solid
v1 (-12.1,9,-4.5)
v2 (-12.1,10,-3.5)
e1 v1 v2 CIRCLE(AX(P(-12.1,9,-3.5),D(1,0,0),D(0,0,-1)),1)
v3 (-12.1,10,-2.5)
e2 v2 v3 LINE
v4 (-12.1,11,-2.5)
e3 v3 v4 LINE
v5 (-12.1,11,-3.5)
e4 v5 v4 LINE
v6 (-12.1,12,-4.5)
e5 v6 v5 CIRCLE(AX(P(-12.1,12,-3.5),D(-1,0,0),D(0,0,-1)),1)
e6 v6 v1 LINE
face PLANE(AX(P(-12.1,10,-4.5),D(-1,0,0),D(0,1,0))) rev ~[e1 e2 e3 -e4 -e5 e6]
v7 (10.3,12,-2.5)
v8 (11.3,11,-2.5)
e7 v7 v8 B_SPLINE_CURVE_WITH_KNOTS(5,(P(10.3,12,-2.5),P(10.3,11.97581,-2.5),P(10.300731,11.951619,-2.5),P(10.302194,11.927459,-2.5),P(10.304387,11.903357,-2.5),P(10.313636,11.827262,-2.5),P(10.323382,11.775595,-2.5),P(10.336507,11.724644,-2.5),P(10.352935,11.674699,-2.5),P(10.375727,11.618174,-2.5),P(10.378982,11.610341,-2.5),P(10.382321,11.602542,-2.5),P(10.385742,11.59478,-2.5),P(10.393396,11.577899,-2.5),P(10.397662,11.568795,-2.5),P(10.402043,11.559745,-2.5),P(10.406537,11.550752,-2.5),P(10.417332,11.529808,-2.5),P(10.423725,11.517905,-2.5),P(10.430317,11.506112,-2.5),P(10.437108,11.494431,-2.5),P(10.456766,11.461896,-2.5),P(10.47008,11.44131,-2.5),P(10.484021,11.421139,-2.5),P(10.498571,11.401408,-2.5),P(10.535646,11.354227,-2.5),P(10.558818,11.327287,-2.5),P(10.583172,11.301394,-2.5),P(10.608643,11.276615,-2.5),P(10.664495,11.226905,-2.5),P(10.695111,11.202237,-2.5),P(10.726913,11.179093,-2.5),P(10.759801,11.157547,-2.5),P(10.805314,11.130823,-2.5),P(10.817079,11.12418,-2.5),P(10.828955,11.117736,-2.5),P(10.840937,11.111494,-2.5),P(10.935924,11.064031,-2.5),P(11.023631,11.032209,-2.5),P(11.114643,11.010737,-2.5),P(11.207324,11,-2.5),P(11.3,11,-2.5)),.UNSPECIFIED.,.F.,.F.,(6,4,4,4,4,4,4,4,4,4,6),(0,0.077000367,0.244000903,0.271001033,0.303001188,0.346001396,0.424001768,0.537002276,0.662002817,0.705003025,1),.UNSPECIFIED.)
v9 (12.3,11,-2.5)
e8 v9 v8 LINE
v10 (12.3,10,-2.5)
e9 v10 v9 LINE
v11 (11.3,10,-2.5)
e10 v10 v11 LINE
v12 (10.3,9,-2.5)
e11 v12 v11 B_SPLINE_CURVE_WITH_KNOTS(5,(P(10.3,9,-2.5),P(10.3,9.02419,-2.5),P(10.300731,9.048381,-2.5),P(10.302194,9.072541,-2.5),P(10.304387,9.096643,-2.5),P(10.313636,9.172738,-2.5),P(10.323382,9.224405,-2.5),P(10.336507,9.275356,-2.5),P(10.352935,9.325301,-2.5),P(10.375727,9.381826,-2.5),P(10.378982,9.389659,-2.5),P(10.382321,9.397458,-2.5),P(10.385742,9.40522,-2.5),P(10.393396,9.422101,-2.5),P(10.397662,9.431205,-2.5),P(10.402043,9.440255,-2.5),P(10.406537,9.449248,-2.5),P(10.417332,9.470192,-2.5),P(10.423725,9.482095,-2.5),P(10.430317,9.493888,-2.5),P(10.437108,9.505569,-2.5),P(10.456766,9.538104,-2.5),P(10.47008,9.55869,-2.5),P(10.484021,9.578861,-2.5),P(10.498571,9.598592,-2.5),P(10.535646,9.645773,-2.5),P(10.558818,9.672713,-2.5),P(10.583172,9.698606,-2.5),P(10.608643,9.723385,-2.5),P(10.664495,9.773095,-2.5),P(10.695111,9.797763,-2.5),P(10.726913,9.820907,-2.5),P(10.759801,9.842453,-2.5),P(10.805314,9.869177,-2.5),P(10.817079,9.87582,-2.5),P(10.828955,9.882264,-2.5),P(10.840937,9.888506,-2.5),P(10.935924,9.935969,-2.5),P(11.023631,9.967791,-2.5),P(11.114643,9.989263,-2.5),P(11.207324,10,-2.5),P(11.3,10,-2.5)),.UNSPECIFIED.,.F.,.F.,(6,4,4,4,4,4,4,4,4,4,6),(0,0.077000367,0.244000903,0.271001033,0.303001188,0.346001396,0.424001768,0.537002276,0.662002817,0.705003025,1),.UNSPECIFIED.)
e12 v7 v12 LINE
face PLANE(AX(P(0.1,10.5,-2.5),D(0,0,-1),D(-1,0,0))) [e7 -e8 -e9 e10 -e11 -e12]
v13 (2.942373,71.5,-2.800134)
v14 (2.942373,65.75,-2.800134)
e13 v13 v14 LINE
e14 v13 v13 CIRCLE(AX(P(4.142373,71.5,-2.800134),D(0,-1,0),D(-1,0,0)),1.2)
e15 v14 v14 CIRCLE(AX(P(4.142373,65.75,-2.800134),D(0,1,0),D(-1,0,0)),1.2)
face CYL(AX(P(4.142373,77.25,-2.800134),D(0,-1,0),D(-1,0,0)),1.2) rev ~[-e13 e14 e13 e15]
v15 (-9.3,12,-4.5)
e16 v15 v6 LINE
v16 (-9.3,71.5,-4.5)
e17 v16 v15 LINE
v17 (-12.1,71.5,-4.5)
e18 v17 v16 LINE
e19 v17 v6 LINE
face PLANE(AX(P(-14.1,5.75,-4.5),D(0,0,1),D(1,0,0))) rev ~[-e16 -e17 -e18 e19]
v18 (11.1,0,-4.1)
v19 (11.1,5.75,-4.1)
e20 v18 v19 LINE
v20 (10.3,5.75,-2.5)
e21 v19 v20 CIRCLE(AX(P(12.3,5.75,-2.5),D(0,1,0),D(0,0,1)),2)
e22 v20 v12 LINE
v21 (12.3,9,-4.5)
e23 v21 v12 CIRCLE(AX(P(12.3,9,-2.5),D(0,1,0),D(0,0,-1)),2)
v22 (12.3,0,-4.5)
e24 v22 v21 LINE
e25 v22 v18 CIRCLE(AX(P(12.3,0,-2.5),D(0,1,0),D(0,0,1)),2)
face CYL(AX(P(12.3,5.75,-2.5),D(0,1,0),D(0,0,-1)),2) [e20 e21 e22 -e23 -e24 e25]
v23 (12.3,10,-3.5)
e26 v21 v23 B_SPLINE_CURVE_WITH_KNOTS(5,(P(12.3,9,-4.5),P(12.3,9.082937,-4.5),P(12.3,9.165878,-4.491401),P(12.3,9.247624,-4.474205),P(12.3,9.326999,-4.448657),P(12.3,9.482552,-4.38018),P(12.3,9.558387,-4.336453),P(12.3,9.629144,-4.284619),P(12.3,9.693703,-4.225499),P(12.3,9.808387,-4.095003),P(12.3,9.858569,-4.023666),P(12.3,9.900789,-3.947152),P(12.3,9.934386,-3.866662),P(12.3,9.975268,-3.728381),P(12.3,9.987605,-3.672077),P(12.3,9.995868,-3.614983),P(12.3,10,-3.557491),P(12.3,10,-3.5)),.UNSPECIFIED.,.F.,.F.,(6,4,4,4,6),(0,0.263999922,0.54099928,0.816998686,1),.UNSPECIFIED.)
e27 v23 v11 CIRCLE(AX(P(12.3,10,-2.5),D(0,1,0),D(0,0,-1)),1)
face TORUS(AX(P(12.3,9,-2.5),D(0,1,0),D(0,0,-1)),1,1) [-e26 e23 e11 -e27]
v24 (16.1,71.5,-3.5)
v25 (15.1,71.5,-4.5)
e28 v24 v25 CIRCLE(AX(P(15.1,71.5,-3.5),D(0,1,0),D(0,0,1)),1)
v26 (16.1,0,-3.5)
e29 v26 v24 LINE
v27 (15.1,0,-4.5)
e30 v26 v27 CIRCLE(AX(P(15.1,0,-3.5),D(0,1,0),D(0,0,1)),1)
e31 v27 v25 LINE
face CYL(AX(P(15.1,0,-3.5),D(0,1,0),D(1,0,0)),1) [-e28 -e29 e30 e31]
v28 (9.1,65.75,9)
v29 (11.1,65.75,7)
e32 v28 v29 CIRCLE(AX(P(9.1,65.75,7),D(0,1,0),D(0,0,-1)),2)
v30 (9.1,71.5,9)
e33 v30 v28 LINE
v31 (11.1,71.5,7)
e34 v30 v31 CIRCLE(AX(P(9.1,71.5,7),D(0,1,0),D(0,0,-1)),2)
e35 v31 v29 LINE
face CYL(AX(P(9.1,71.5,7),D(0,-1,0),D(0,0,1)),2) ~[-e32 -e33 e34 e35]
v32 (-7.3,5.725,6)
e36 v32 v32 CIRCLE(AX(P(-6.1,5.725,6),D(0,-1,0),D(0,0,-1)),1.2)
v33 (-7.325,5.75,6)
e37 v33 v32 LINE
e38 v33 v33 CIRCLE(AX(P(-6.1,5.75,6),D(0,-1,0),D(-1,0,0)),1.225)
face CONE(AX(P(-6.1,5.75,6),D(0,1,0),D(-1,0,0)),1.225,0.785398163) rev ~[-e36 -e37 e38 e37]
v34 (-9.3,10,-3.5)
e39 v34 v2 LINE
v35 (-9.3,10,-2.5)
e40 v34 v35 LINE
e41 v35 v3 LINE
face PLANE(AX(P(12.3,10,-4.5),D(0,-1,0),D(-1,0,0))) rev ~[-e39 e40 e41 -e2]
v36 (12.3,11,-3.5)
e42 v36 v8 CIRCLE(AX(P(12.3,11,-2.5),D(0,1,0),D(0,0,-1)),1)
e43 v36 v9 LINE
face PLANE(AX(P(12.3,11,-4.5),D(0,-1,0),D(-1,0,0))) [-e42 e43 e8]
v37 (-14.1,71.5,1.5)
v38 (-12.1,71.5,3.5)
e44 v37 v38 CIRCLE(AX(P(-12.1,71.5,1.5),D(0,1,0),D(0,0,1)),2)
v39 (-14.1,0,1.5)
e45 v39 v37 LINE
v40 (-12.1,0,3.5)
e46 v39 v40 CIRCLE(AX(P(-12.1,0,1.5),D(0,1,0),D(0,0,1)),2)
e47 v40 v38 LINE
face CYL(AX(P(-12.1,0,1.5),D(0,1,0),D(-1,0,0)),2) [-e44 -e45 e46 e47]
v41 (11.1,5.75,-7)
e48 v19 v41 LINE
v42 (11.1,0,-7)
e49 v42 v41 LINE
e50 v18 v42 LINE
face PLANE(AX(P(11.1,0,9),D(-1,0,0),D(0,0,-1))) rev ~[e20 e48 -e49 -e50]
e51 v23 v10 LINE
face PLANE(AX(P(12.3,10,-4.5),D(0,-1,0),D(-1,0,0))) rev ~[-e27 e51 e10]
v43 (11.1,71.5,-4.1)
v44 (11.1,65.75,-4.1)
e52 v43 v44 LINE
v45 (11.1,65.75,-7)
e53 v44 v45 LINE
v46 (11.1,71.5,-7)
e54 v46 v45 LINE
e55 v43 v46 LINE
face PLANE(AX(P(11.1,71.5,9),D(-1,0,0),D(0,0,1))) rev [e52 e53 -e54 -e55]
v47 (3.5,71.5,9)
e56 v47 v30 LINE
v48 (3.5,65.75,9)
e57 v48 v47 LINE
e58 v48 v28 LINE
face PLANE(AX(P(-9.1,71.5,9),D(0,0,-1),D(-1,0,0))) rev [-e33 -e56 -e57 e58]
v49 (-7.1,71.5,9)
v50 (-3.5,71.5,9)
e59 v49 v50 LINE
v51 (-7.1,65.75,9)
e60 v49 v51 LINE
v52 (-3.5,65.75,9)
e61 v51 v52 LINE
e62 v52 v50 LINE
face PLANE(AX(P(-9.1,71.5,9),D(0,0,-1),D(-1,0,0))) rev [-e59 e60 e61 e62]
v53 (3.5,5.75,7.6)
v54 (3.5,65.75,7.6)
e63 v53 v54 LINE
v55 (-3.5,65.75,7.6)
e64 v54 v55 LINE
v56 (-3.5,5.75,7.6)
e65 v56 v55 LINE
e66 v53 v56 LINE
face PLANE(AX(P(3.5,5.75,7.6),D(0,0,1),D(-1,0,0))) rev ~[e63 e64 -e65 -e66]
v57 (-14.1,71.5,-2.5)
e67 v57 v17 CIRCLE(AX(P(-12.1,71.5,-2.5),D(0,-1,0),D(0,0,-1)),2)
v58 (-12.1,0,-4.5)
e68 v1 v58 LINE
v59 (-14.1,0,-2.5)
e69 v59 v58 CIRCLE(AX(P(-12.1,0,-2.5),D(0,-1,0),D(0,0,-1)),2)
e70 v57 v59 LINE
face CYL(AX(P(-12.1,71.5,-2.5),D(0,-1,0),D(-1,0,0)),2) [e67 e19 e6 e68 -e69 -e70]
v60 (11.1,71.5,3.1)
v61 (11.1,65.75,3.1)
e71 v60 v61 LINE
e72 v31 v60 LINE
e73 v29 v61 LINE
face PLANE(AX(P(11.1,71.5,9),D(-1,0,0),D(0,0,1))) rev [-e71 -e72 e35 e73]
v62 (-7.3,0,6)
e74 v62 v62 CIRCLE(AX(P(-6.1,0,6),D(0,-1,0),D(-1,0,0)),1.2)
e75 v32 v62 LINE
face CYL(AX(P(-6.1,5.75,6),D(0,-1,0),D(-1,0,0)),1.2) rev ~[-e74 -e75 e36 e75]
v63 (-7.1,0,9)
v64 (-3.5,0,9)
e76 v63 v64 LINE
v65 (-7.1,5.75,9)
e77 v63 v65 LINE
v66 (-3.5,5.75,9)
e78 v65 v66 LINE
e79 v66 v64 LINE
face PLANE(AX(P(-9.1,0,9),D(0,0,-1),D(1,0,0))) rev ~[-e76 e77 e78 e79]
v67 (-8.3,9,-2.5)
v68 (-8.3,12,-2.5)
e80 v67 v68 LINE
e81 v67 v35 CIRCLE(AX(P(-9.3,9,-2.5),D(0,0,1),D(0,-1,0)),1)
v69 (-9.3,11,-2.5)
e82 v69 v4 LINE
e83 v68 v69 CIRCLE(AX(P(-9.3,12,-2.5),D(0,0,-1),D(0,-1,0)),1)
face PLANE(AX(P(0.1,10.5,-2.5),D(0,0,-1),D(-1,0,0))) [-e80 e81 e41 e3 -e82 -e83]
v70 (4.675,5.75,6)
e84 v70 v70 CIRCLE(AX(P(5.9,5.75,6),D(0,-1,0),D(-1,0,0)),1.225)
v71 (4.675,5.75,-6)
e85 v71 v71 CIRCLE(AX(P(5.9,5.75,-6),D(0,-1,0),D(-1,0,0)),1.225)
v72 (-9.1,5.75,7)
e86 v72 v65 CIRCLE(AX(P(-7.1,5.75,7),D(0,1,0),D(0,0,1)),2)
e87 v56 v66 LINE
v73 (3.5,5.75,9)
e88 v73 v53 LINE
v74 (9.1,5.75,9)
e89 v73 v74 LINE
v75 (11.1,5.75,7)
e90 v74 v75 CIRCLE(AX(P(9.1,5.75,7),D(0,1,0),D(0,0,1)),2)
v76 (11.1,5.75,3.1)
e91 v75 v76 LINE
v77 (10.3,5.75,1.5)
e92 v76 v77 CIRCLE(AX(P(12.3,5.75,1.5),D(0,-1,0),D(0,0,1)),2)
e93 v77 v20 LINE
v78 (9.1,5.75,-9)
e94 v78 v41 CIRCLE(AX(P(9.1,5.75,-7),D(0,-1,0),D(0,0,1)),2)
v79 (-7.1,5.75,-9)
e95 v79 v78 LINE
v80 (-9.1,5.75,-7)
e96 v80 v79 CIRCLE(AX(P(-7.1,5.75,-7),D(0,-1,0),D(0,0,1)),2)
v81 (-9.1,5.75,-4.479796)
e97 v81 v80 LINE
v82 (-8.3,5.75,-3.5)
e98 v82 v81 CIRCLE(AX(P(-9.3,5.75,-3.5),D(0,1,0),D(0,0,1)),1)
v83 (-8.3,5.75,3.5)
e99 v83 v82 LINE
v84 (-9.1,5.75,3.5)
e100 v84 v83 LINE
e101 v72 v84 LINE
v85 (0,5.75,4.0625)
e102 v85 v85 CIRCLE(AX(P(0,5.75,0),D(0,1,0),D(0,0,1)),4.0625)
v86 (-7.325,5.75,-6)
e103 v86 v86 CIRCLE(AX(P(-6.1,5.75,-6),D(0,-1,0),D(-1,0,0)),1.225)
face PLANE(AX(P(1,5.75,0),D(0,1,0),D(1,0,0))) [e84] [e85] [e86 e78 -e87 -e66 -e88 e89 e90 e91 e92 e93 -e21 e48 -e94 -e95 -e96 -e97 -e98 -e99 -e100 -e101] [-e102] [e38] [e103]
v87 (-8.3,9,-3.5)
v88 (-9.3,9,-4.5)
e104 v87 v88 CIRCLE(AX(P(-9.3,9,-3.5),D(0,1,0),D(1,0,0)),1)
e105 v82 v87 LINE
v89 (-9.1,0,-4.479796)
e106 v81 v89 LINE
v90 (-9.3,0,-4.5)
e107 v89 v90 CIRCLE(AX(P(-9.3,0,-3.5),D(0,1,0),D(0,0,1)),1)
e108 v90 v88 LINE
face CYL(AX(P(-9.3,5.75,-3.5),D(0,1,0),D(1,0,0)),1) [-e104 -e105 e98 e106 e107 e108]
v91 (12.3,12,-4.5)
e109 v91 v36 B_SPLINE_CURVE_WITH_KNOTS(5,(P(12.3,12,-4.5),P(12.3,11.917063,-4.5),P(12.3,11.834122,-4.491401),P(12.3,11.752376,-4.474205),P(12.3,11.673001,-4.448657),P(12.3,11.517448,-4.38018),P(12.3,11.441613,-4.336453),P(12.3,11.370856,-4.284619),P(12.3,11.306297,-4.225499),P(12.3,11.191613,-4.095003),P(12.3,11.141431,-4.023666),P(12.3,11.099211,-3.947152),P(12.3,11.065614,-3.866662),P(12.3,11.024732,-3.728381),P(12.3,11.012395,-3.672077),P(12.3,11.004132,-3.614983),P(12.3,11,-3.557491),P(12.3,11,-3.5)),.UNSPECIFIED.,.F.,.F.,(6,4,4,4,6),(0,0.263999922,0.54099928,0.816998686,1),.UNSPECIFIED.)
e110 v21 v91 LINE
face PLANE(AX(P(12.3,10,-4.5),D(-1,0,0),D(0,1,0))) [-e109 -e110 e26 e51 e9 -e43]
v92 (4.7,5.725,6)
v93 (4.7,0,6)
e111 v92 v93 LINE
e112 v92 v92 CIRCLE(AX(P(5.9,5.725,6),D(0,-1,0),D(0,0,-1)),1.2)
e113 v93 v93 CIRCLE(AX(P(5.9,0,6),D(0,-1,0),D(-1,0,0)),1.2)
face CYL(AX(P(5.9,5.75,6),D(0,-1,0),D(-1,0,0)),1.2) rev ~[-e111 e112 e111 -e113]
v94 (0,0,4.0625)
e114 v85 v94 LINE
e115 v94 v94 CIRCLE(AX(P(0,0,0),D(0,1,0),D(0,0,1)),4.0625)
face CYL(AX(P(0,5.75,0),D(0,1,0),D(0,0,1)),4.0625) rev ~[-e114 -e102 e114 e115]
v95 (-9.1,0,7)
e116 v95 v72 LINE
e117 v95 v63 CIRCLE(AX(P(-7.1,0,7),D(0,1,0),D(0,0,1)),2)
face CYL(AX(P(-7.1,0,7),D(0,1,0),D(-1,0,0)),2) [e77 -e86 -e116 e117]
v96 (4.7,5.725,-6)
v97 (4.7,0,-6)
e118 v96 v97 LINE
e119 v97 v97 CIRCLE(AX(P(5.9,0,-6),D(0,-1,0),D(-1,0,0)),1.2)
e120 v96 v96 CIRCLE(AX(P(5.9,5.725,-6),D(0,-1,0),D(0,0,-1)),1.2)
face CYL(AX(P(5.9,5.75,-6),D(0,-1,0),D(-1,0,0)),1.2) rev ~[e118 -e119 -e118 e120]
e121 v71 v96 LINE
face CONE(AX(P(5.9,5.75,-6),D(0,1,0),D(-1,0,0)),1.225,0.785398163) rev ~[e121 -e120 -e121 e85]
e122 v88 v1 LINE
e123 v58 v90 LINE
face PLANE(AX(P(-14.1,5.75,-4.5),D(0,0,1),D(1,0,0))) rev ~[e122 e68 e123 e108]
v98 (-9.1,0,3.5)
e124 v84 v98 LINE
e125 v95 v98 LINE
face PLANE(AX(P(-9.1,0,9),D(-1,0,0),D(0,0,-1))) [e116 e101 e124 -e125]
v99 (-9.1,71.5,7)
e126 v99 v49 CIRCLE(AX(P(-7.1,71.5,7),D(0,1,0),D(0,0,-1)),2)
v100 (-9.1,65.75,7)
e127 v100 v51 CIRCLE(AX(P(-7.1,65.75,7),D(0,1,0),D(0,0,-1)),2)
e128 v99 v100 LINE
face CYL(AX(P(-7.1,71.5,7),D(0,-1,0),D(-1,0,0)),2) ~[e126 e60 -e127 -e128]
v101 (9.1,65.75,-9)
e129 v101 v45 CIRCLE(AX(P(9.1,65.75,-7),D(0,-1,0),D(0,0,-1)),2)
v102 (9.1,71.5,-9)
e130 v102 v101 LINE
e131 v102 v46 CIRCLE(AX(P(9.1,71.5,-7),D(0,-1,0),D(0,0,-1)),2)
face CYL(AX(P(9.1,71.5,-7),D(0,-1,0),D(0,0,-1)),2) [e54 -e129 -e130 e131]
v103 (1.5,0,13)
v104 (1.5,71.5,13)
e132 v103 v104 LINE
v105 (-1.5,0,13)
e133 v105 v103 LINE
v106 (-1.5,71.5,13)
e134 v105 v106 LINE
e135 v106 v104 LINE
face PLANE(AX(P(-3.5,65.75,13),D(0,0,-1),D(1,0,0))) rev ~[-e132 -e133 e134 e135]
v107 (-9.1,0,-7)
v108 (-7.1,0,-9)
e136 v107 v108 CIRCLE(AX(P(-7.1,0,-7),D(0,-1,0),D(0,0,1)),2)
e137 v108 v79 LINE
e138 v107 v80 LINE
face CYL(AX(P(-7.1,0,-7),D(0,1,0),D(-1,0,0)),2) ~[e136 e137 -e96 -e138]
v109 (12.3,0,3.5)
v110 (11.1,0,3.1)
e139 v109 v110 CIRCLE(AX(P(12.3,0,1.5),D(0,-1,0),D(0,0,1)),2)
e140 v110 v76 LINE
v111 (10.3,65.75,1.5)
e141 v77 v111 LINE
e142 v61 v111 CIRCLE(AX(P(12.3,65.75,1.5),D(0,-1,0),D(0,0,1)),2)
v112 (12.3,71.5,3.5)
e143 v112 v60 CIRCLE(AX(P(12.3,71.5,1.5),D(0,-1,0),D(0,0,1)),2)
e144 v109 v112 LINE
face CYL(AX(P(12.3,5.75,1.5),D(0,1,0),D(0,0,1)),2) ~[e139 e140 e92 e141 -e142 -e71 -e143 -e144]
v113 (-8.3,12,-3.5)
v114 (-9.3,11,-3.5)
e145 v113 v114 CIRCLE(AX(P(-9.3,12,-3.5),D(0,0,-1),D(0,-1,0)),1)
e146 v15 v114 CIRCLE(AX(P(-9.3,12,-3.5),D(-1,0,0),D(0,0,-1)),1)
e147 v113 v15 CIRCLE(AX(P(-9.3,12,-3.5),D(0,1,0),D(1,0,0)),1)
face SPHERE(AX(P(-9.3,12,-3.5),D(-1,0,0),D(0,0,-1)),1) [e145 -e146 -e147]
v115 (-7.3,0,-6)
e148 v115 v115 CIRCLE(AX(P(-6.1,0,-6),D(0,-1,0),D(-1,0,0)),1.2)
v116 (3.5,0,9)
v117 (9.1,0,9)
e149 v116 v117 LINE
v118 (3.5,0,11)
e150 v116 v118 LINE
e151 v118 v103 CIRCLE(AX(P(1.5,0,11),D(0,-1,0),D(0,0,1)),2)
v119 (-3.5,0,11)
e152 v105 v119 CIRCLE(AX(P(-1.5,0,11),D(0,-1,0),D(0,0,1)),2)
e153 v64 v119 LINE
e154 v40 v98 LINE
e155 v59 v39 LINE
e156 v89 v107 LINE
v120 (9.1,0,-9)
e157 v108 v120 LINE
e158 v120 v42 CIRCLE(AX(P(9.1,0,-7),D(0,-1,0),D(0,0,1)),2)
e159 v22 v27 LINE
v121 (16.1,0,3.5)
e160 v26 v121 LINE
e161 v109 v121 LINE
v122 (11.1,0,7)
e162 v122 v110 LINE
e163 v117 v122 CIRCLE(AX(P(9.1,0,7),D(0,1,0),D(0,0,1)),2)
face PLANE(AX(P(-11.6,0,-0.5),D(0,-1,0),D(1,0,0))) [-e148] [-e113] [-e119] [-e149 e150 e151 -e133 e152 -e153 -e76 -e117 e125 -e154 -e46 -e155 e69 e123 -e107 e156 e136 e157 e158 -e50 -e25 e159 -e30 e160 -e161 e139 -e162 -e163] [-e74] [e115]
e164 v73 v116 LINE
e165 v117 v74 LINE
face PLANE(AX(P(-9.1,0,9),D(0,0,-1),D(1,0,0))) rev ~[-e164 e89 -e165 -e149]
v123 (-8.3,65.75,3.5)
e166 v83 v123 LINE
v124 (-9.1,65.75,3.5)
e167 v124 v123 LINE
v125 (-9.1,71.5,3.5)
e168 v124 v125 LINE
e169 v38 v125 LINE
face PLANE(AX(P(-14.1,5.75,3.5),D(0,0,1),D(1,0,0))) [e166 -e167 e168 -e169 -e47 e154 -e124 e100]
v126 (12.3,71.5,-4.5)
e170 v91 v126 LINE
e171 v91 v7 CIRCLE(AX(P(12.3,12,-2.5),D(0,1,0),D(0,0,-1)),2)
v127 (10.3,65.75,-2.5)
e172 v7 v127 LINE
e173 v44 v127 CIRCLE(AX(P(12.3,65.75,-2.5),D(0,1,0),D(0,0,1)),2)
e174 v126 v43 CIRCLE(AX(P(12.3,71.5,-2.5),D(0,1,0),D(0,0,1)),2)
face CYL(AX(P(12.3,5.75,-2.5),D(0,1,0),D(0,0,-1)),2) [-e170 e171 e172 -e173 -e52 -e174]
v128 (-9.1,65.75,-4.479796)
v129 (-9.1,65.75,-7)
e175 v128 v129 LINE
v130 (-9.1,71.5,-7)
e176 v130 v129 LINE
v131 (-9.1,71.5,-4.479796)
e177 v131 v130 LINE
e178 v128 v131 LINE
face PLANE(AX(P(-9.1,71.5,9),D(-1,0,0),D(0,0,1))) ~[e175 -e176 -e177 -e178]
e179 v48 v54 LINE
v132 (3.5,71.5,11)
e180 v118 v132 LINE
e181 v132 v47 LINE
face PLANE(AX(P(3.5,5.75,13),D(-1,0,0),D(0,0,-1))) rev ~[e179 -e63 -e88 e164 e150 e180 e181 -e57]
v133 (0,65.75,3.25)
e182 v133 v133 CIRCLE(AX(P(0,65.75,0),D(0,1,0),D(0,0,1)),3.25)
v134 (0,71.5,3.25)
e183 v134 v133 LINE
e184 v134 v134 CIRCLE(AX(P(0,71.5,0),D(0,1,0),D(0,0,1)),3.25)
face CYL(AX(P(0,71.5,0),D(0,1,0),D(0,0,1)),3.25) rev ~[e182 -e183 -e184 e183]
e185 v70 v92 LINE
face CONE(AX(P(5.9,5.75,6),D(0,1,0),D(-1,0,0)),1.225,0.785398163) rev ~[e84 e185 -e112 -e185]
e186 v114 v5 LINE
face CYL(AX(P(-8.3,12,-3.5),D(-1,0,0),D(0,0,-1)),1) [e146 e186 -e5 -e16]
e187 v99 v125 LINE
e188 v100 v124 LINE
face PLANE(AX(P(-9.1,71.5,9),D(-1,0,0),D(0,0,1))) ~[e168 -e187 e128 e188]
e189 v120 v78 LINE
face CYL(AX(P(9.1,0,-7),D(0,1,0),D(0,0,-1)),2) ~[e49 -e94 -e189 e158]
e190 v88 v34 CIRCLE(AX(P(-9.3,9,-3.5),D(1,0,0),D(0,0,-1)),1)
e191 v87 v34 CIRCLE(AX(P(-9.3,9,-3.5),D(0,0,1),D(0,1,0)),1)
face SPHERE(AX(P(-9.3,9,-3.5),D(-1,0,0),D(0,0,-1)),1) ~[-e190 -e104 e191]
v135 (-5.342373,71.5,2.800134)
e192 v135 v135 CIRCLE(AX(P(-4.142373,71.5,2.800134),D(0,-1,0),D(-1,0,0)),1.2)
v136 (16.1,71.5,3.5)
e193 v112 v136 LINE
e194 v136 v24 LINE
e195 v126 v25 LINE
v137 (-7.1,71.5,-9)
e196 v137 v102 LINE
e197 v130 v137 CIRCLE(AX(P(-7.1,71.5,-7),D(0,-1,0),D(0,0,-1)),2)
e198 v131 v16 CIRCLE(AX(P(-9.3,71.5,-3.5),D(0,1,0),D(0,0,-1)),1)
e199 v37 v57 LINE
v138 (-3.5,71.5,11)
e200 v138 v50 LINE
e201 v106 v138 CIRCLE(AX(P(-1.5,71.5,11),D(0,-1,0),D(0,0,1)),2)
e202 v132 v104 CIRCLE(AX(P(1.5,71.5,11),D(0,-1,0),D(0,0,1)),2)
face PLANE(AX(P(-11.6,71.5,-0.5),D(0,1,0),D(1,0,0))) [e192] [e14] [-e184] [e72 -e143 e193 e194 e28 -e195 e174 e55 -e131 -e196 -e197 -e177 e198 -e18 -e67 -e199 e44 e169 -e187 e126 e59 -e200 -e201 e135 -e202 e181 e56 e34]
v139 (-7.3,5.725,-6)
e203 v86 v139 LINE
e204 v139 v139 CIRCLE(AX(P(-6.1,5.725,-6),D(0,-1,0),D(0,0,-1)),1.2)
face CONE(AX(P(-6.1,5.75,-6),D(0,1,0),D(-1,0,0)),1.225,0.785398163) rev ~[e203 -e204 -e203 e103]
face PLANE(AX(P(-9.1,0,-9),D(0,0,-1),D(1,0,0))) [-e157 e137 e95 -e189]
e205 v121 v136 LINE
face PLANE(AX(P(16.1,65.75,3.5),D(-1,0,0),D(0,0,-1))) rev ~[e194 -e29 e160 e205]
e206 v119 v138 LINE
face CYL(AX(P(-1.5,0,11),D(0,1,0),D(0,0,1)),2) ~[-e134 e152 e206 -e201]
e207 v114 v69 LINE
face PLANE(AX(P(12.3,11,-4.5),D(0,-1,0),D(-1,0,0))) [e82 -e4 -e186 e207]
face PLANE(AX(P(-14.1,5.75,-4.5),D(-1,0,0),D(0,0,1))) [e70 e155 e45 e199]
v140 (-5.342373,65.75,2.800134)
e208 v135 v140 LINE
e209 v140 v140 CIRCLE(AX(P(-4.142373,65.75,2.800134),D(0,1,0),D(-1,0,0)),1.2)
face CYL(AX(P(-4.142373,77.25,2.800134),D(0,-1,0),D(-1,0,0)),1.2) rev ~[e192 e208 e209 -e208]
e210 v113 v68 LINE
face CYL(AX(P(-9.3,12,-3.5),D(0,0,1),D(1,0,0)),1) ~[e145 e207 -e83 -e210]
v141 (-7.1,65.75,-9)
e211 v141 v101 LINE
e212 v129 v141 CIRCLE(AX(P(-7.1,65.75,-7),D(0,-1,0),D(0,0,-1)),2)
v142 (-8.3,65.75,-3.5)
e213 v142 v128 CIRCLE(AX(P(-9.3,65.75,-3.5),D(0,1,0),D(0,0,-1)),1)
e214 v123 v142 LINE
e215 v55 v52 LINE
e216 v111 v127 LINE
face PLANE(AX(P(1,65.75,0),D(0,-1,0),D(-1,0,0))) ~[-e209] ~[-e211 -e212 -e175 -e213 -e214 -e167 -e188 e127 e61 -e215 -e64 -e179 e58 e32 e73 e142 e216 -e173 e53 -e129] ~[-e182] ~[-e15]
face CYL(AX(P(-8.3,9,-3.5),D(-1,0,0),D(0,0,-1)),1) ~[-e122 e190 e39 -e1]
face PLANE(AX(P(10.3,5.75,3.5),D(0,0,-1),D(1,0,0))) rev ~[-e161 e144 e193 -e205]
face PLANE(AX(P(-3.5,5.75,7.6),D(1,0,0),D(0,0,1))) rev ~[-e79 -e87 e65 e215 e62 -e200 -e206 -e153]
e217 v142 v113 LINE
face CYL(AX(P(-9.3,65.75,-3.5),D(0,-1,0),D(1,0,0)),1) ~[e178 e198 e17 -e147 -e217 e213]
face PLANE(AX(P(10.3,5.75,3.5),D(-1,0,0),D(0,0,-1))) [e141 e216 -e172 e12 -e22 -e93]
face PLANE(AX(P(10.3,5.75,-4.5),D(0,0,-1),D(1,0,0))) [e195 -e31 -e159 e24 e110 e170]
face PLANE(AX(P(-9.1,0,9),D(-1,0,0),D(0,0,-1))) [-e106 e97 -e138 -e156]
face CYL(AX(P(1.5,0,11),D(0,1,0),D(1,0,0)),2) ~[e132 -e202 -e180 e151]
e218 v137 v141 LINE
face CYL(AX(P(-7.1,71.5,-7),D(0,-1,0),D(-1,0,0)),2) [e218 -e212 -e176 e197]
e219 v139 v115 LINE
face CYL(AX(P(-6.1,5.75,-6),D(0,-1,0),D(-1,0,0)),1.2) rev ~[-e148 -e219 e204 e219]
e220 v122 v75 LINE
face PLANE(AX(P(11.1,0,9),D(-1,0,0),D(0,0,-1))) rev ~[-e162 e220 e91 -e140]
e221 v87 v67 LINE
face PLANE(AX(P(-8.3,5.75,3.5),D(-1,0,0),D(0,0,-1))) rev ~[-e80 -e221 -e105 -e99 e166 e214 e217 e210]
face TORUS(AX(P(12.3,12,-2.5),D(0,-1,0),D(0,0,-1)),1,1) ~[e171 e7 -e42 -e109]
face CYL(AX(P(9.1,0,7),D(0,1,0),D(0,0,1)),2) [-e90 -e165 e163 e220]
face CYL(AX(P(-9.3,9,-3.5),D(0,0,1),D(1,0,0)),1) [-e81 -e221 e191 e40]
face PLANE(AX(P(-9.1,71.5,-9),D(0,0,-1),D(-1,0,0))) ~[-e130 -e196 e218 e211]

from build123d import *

# Parameters (mm, degrees)
SKETCH1_W                      = 20.2
SKETCH1_H                      = 18
BOSS_EXTRUDE1_DEPTH            = 5.75
M2_CLEARANCE_HOLE1_D           = 2.4
M2_CLEARANCE_HOLE1_CSINK_D     = 2.45
M2_CLEARANCE_HOLE1_CSINK_ANGLE = 90
SKETCH5_W                      = 5.8
SKETCH5_H                      = 8
BOSS_EXTRUDE2_DEPTH            = 60
SKETCH6_R                      = 4.0625
CUT_EXTRUDE1_DEPTH             = 5.75
SKETCH7_R                      = 3.25
CUT_EXTRUDE2_DEPTH             = 5.75
FILLET1_R                      = 2
M2_CLEARANCE_HOLE2_D           = 2.4
M2_CLEARANCE_HOLE2_DEPTH       = 5.75
M2_CLEARANCE_HOLE2_TIP         = 0.721032743
SKETCH11_W                     = 5
SKETCH11_H                     = 8
SKETCH11_W_2                   = 7
SKETCH11_H_2                   = 4
BOSS_EXTRUDE3_DEPTH            = 5.75
SKETCH12_W                     = 5
SKETCH12_H                     = 8
SKETCH12_W_2                   = 7
SKETCH12_H_2                   = 4
BOSS_EXTRUDE4_DEPTH            = 5.75
FILLET2_R                      = 2
SKETCH14_W                     = 24.4
SKETCH14_H                     = 1
CUT_EXTRUDE3_DEPTH             = 2
FILLET3_R                      = 1
FILLET4_R                      = 1


with BuildPart() as part:
    # Sketch1 → Boss-Extrude1 (new body)
    with BuildSketch(Plane(origin=(0, 0, 0), x_dir=(1, 0, 0), z_dir=(0, 1, 0))):
        with Locations((1, 0)):
            Rectangle(SKETCH1_W, SKETCH1_H)
    boss_extrude1 = extrude(amount=BOSS_EXTRUDE1_DEPTH)

    # M2 Clearance Hole1 (through all)
    with Locations(Plane(origin=(0, 5.75, 0), x_dir=(1, 0, 0), z_dir=(0, 1, 0))):
        with Locations((-6.1, 6), (5.9, 6), (-6.1, -6), (5.9, -6)):
            CounterSinkHole(M2_CLEARANCE_HOLE1_D / 2, M2_CLEARANCE_HOLE1_CSINK_D / 2, counter_sink_angle=M2_CLEARANCE_HOLE1_CSINK_ANGLE)

    # Sketch5 → Boss-Extrude2 (add)
    with BuildSketch(Plane(origin=(0, 5.75, 0), x_dir=(1, 0, 0), z_dir=(0, 1, 0))):
        with Locations((-11.2, 0.5)):
            Rectangle(SKETCH5_W, SKETCH5_H)
        Polygon((3.5, -7.6), (-1.5, -7.6), (-3.5, -7.6), (-3.5, -9), (-3.5, -13), (3.5, -13), (3.5, -9), align=None)
        with Locations((13.2, 0.5)):
            Rectangle(SKETCH5_W, SKETCH5_H)
    extrude(amount=BOSS_EXTRUDE2_DEPTH)

    # Sketch6 → Cut-Extrude1 (cut)
    with BuildSketch(Plane(origin=(0, 5.75, 0), x_dir=(1, 0, 0), z_dir=(0, 1, 0))):
        with Locations(Location((0, 0, 0), (0, 0, 270))):
            Circle(SKETCH6_R)
    extrude(amount=-CUT_EXTRUDE1_DEPTH, mode=Mode.SUBTRACT)

    # Mirror1: Boss-Extrude1 across plane
    add(boss_extrude1.mirror(Plane.ZX.offset(35.75)))

    # Sketch7 → Cut-Extrude2 (cut)
    with BuildSketch(Plane(origin=(0, 71.5, 0), x_dir=(1, 0, 0), z_dir=(0, 1, 0))):
        with Locations(Location((0, 0, 0), (0, 0, 270))):
            Circle(SKETCH7_R)
    extrude(amount=-CUT_EXTRUDE2_DEPTH, mode=Mode.SUBTRACT)

    # Fillet1
    fillet1_edges = [part.edges().sort_by_distance(p)[0] for p in [
        (11.1, 68.625, -9),
        (11.1, 68.625, 9),
        (-9.1, 68.625, 9),
        (-9.1, 68.625, -9),
        (11.1, 2.875, 9),
        (-9.1, 2.875, 9),
        (-9.1, 2.875, -9),
        (11.1, 2.875, -9),
    ]]
    fillet(fillet1_edges, radius=FILLET1_R)

    # M2 Clearance Hole2
    with Locations(Plane(origin=(0, 71.5, 0), x_dir=(1, 0, 0), z_dir=(0, 1, 0))):
        with Locations((-4.142372511, -2.800133921), (4.142372511, 2.800133921)):
            Hole(M2_CLEARANCE_HOLE2_D / 2, depth=M2_CLEARANCE_HOLE2_DEPTH)
            with Locations((0, 0, -(M2_CLEARANCE_HOLE2_DEPTH + M2_CLEARANCE_HOLE2_TIP / 2))):  # 118° drill point
                Cone(0, M2_CLEARANCE_HOLE2_D / 2, M2_CLEARANCE_HOLE2_TIP, mode=Mode.SUBTRACT)

    # Sketch11 → Boss-Extrude3 (add)
    with BuildSketch(Plane(origin=(0, 65.75, 0), x_dir=(1, 0, 0), z_dir=(0, 1, 0))):
        with Locations((-11.6, 0.5)):
            Rectangle(SKETCH11_W, SKETCH11_H)
        with Locations((13.6, 0.5)):
            Rectangle(SKETCH11_W, SKETCH11_H)
        with Locations((0, -11)):
            Rectangle(SKETCH11_W_2, SKETCH11_H_2)
    extrude(amount=BOSS_EXTRUDE3_DEPTH)

    # Sketch12 → Boss-Extrude4 (add)
    with BuildSketch(Plane.XZ.offset(-5.75)):
        with Locations((-11.6, -0.5)):
            Rectangle(SKETCH12_W, SKETCH12_H)
        with Locations((0, 11)):
            Rectangle(SKETCH12_W_2, SKETCH12_H_2)
        with Locations((13.6, -0.5)):
            Rectangle(SKETCH12_W, SKETCH12_H)
    extrude(amount=BOSS_EXTRUDE4_DEPTH)

    # Fillet2
    fillet2_edges = [part.edges().sort_by_distance(p)[0] for p in [
        (-14.1, 35.75, -4.5),
        (-14.1, 35.75, 3.5),
        (3.5, 35.75, 13),
        (-3.5, 35.75, 13),
        (10.3, 35.75, 3.5),
        (10.3, 35.75, -4.5),
    ]]
    fillet(fillet2_edges, radius=FILLET2_R)

    # Sketch14 → Cut-Extrude3 (cut)
    with BuildSketch(Plane(origin=(0, 0, -4.5), x_dir=(-1, 0, 0), z_dir=(0, 0, -1))):
        with Locations((-0.1, 10.5)):
            Rectangle(SKETCH14_W, SKETCH14_H)
    extrude(amount=-CUT_EXTRUDE3_DEPTH, mode=Mode.SUBTRACT)

    # Fillet3
    fillet3_edges = [part.edges().sort_by_distance(p)[0] for p in [
        (10.885786438, 10, -3.914213562),
        (10.885786438, 11, -3.914213562),
        (-10.2, 10, -4.5),
        (-10.2, 11, -4.5),
    ]]
    fillet(fillet3_edges, radius=FILLET3_R)

    # Fillet4
    fillet4_edges = [part.edges().sort_by_distance(p)[0] for p in [
        (-8.3, 11, -3),
        (-8.3, 11.292893219, -4.207106781),
        (-8.3, 10, -3),
        (-8.3, 9.707106781, -4.207106781),
        (16.1, 35.75, -4.5),
        (-8.3, 38.875, -4.5),
        (-8.3, 7.375, -4.5),
    ]]
    fillet(fillet4_edges, radius=FILLET4_R)


solid = part.part
